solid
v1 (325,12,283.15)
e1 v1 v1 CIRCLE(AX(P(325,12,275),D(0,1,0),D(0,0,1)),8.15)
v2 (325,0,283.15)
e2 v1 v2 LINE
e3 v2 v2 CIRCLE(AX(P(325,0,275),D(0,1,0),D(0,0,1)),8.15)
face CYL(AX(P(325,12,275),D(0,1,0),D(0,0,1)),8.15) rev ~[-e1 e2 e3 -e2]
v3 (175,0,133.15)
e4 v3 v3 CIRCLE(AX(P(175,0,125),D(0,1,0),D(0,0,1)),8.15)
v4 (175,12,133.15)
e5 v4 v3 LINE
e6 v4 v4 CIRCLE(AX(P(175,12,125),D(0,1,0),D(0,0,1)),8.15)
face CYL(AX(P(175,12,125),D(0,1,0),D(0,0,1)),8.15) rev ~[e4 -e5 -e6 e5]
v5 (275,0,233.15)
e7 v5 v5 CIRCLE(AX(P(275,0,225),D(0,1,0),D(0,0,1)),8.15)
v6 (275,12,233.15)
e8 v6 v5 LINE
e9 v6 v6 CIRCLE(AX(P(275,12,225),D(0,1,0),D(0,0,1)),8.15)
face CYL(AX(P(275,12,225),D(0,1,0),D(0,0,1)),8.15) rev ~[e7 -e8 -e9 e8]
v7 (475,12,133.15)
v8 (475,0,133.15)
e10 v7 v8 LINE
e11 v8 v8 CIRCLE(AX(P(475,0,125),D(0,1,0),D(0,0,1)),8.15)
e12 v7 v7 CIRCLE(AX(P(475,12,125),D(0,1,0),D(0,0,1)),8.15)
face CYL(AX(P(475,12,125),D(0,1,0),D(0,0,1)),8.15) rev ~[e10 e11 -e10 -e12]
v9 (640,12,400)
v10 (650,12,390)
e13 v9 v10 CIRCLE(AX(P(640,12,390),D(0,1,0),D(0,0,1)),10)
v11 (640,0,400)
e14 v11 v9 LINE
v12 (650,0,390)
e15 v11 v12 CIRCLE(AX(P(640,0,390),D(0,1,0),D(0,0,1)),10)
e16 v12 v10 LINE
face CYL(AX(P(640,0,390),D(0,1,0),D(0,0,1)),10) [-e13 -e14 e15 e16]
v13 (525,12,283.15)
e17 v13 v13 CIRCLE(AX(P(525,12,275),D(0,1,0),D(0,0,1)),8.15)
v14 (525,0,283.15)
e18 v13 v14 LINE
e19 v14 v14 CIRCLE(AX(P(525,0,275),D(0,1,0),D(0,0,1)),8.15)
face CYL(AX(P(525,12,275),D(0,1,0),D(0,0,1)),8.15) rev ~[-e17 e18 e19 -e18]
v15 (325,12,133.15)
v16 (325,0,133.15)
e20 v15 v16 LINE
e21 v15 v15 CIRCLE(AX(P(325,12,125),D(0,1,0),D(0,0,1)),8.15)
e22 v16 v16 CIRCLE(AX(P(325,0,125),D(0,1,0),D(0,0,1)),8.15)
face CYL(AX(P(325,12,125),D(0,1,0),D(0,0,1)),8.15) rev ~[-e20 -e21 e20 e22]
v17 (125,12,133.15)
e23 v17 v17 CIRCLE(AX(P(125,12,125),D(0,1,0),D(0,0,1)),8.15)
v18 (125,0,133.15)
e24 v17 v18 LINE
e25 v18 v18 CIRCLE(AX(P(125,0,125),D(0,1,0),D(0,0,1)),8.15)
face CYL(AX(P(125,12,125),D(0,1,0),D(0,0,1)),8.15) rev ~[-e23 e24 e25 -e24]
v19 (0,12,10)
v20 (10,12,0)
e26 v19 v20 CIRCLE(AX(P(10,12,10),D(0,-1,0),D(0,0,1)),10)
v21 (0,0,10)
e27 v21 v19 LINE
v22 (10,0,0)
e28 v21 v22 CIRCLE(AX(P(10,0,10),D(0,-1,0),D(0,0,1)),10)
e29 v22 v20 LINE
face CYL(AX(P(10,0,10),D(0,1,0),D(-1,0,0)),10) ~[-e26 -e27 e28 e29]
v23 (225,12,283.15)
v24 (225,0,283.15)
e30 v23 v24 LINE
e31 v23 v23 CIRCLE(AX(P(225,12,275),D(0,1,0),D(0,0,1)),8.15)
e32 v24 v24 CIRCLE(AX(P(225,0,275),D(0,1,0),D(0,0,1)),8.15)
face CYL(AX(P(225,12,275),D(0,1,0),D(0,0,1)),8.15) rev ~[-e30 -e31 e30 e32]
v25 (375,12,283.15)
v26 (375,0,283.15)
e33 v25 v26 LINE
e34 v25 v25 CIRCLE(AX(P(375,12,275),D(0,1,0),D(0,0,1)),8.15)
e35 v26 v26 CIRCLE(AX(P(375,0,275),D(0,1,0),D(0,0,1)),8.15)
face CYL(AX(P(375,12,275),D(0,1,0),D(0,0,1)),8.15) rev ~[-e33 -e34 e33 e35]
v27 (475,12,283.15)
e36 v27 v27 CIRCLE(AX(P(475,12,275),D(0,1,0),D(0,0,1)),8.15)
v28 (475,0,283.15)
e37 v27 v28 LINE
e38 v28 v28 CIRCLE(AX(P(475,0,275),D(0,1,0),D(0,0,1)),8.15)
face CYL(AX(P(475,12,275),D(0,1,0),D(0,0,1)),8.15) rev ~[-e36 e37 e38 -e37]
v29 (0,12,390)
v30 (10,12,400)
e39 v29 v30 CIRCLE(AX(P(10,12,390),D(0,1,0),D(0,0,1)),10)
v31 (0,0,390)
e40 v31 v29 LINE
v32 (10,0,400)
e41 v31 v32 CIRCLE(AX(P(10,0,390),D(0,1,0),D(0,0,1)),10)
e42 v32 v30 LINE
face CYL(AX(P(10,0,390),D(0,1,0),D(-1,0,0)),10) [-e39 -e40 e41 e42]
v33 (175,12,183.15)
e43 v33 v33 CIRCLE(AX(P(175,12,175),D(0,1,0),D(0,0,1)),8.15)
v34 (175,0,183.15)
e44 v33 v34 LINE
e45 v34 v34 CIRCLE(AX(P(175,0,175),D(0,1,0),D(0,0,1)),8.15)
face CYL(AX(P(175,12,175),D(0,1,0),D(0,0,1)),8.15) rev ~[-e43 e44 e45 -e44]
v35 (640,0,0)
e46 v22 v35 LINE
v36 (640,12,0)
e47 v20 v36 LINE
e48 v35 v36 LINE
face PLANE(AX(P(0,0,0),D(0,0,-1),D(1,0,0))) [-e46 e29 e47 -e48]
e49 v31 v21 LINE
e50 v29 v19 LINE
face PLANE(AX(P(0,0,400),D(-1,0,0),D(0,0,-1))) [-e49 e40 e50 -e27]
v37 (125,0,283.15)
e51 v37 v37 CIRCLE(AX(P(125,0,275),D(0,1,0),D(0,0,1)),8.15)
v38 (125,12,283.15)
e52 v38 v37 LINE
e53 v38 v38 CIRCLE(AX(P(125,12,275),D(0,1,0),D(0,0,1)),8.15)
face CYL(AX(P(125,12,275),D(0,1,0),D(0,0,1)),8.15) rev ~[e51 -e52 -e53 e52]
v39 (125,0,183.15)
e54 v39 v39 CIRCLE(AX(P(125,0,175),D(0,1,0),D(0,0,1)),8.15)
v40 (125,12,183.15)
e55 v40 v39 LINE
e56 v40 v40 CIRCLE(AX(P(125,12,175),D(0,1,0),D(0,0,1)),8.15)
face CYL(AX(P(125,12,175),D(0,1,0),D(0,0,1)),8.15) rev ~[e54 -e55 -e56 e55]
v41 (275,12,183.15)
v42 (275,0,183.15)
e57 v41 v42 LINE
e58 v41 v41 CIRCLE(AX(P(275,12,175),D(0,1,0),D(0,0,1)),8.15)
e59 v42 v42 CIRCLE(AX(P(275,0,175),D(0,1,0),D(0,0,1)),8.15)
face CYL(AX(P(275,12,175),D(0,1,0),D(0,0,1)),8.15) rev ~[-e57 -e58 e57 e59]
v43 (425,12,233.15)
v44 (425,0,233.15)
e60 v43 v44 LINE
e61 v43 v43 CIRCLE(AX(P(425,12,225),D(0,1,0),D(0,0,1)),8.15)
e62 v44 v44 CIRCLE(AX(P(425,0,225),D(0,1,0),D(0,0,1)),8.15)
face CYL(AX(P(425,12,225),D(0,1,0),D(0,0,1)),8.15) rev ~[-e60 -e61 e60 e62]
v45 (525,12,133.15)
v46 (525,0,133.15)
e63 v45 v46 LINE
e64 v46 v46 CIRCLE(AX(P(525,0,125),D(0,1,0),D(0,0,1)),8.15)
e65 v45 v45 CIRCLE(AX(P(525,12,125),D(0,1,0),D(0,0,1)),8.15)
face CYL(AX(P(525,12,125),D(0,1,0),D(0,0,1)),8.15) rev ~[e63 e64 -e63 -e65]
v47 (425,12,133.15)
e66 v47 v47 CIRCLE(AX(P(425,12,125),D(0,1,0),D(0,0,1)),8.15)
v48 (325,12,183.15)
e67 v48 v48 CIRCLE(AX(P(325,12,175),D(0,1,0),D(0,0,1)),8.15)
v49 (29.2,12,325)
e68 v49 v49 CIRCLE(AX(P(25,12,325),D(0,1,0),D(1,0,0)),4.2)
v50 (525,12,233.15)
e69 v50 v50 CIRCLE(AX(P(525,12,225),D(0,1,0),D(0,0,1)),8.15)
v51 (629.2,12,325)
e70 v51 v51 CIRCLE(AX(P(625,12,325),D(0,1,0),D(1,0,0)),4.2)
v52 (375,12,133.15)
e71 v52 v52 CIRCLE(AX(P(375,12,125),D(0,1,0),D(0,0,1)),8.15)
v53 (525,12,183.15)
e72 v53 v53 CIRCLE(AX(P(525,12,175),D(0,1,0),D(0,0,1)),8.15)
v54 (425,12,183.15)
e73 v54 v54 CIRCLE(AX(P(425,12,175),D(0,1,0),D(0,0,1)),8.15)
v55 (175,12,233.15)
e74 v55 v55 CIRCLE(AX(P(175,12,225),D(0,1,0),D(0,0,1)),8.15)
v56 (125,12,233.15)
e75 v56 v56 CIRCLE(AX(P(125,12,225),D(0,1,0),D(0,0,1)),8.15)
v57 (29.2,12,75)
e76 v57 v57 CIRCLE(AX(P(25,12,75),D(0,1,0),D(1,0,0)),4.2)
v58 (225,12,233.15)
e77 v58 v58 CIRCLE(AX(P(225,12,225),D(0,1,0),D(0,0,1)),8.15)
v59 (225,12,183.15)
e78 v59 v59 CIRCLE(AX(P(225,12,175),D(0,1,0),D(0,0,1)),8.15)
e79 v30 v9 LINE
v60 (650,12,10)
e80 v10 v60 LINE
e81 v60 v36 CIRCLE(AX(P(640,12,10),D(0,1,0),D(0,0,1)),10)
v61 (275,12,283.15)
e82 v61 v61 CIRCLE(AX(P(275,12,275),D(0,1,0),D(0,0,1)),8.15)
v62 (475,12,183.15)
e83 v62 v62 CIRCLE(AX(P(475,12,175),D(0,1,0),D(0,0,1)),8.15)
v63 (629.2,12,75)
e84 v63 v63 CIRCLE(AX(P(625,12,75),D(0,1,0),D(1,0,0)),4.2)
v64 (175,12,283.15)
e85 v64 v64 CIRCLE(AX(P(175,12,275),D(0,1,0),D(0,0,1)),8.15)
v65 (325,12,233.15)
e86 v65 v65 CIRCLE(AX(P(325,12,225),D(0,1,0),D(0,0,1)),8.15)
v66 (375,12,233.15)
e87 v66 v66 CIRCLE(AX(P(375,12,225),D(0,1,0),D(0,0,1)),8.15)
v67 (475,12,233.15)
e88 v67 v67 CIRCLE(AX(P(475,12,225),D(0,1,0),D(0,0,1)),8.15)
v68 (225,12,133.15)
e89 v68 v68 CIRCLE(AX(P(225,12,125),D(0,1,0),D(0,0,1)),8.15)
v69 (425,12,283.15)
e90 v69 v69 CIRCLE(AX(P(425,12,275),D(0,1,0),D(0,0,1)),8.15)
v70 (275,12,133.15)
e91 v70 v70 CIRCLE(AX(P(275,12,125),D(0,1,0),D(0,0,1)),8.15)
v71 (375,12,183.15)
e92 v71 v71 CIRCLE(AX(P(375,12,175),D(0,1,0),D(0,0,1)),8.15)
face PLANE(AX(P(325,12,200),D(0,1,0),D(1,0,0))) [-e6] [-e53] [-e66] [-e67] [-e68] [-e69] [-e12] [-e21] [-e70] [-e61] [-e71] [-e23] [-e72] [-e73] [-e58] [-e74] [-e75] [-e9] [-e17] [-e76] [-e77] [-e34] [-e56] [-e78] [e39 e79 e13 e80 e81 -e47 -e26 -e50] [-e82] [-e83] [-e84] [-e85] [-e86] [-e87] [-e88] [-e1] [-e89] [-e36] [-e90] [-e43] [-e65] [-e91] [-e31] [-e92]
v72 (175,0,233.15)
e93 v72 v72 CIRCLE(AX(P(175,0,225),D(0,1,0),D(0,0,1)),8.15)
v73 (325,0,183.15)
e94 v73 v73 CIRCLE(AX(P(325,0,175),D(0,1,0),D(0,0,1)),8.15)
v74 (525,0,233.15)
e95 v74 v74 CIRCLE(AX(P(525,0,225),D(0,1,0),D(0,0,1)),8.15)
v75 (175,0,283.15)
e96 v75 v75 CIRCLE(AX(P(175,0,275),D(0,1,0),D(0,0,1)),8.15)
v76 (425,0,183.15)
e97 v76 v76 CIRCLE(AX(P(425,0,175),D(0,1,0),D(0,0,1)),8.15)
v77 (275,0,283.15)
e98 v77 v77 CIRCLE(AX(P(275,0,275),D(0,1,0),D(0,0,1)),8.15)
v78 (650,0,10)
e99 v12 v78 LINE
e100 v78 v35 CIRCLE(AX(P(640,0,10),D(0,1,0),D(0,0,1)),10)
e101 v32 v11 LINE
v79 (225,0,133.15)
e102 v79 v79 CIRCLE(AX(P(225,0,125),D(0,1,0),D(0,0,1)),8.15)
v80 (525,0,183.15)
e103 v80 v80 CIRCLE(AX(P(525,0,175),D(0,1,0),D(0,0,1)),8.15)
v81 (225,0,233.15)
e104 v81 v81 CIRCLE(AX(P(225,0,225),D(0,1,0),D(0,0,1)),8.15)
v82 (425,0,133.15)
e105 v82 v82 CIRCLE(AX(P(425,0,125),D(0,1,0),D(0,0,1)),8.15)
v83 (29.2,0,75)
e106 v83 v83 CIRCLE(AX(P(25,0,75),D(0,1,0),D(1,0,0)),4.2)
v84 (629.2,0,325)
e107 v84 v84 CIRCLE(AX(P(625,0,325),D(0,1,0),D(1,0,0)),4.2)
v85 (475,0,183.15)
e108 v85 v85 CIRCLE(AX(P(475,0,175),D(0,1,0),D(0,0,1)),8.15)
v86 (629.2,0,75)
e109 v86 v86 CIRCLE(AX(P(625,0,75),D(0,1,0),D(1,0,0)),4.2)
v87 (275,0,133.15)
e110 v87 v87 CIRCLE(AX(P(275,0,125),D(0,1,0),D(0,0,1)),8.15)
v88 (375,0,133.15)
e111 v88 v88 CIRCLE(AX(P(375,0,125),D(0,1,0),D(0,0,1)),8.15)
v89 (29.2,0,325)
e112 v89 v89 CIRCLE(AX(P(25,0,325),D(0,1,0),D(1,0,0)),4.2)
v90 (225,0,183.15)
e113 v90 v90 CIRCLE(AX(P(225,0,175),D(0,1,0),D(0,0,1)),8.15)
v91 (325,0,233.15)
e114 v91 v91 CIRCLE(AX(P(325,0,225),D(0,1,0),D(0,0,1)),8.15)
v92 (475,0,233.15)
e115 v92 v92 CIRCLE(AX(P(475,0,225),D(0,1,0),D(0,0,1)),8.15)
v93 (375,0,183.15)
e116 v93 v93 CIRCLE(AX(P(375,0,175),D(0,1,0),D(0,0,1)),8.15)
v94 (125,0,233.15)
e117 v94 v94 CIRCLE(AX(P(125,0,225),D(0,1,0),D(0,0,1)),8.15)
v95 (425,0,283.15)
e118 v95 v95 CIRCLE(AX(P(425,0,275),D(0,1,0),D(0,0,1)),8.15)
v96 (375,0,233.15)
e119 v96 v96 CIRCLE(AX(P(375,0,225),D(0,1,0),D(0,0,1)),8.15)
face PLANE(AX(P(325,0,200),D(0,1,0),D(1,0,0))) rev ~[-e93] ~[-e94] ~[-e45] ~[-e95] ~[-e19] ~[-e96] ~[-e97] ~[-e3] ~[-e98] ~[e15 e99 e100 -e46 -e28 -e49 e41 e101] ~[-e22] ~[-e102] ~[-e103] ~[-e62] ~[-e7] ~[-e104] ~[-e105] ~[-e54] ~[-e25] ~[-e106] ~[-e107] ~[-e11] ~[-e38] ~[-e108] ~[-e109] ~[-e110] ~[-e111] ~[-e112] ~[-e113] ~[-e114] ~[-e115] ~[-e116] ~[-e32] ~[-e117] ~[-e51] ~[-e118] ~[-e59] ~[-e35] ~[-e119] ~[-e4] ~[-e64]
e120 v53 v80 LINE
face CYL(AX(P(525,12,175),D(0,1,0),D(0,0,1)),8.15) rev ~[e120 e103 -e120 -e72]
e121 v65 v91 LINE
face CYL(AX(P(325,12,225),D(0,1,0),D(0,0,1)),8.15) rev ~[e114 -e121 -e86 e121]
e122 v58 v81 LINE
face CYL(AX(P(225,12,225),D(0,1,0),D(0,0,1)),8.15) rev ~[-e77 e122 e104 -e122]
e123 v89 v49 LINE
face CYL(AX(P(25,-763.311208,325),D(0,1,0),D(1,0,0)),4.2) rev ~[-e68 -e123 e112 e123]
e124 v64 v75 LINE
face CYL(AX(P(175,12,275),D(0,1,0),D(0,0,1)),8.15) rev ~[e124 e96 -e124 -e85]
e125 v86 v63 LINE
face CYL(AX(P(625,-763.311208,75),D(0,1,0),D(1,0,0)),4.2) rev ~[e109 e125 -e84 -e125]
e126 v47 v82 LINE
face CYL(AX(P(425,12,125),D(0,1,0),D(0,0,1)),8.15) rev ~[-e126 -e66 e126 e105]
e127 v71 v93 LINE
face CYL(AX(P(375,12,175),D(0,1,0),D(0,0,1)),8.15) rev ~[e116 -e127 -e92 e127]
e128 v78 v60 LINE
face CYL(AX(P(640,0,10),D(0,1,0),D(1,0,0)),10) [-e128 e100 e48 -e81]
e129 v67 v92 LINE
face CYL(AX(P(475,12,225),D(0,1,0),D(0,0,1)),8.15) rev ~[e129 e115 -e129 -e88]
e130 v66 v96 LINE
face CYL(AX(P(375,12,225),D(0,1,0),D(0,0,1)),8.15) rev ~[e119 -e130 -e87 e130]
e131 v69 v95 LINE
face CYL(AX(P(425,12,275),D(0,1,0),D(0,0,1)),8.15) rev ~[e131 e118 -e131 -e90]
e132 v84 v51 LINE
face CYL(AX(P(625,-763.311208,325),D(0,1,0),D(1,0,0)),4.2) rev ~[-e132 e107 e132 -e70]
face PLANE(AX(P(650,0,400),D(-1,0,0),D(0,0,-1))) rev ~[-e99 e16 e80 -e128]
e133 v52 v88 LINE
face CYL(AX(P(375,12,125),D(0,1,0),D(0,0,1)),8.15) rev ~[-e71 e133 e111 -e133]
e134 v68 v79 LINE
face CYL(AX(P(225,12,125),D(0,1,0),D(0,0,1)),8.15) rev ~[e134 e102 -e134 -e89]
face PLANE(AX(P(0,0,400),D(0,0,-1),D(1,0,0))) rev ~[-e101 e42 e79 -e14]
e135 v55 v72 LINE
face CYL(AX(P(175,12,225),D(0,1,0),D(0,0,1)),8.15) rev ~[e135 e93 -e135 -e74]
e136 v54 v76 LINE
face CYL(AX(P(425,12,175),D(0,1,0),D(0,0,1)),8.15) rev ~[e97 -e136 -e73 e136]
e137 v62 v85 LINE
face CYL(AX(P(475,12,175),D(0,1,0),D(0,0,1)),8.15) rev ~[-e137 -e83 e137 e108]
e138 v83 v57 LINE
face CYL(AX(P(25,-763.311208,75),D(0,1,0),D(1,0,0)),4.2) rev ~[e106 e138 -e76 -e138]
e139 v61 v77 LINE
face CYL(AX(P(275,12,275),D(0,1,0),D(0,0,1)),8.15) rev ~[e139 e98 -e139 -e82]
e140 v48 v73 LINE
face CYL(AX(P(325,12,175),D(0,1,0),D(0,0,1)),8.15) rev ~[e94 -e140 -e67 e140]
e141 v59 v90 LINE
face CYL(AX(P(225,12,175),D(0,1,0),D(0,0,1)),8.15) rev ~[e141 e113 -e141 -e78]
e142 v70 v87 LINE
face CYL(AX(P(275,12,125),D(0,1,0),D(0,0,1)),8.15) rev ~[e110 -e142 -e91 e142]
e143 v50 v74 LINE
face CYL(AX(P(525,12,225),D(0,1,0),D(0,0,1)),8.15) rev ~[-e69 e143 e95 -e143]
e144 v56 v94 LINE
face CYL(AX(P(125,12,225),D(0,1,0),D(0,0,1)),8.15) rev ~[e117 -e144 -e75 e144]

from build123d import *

# Parameters (mm, degrees)
SKETCH1_W                  = 650
SKETCH1_H                  = 400
BOSS_EXTRUDE1_DEPTH        = 12
FILLET1_R                  = 10
SKETCH31_R                 = 8.15
CUT_EXTRUDE3_DEPTH         = 764.311207831
LPATTERN1_COUNT            = 9
LPATTERN1_PITCH            = 50
LPATTERN2_COUNT            = 4
LPATTERN2_PITCH            = 50
LPATTERN2_COPY_1_SKETCH_R  = 8.15
LPATTERN2_COPY_1_DEPTH     = 764.311207831
LPATTERN2_COPY_2_SKETCH_R  = 8.15
LPATTERN2_COPY_2_DEPTH     = 764.311207831
LPATTERN2_COPY_3_SKETCH_R  = 8.15
LPATTERN2_COPY_3_DEPTH     = 764.311207831
LPATTERN2_COPY_4_SKETCH_R  = 8.15
LPATTERN2_COPY_4_DEPTH     = 764.311207831
LPATTERN2_COPY_5_SKETCH_R  = 8.15
LPATTERN2_COPY_5_DEPTH     = 764.311207831
LPATTERN2_COPY_6_SKETCH_R  = 8.15
LPATTERN2_COPY_6_DEPTH     = 764.311207831
LPATTERN2_COPY_7_SKETCH_R  = 8.15
LPATTERN2_COPY_7_DEPTH     = 764.311207831
LPATTERN2_COPY_8_SKETCH_R  = 8.15
LPATTERN2_COPY_8_DEPTH     = 764.311207831
LPATTERN2_COPY_9_SKETCH_R  = 8.15
LPATTERN2_COPY_9_DEPTH     = 764.311207831
LPATTERN2_COPY_10_SKETCH_R = 8.15
LPATTERN2_COPY_10_DEPTH    = 764.311207831
LPATTERN2_COPY_11_SKETCH_R = 8.15
LPATTERN2_COPY_11_DEPTH    = 764.311207831
LPATTERN2_COPY_12_SKETCH_R = 8.15
LPATTERN2_COPY_12_DEPTH    = 764.311207831
LPATTERN2_COPY_13_SKETCH_R = 8.15
LPATTERN2_COPY_13_DEPTH    = 764.311207831
LPATTERN2_COPY_14_SKETCH_R = 8.15
LPATTERN2_COPY_14_DEPTH    = 764.311207831
LPATTERN2_COPY_15_SKETCH_R = 8.15
LPATTERN2_COPY_15_DEPTH    = 764.311207831
LPATTERN2_COPY_16_SKETCH_R = 8.15
LPATTERN2_COPY_16_DEPTH    = 764.311207831
LPATTERN2_COPY_17_SKETCH_R = 8.15
LPATTERN2_COPY_17_DEPTH    = 764.311207831
LPATTERN2_COPY_18_SKETCH_R = 8.15
LPATTERN2_COPY_18_DEPTH    = 764.311207831
LPATTERN2_COPY_19_SKETCH_R = 8.15
LPATTERN2_COPY_19_DEPTH    = 764.311207831
LPATTERN2_COPY_20_SKETCH_R = 8.15
LPATTERN2_COPY_20_DEPTH    = 764.311207831
LPATTERN2_COPY_21_SKETCH_R = 8.15
LPATTERN2_COPY_21_DEPTH    = 764.311207831
LPATTERN2_COPY_22_SKETCH_R = 8.15
LPATTERN2_COPY_22_DEPTH    = 764.311207831
LPATTERN2_COPY_23_SKETCH_R = 8.15
LPATTERN2_COPY_23_DEPTH    = 764.311207831
LPATTERN2_COPY_24_SKETCH_R = 8.15
LPATTERN2_COPY_24_DEPTH    = 764.311207831
M8_CLEARANCE_HOLE2_D       = 8.4
LPATTERN3_COUNT            = 2
LPATTERN3_PITCH            = 250
LPATTERN3_COUNT_DIR2       = 2
LPATTERN3_PITCH_DIR2       = 600


with BuildPart() as part:
    # Sketch1 → Boss-Extrude1 (new body)
    with BuildSketch(Plane(origin=(0, 0, 0), x_dir=(1, 0, 0), z_dir=(0, 1, 0))):
        with Locations((325, -200)):
            Rectangle(SKETCH1_W, SKETCH1_H)
    extrude(amount=BOSS_EXTRUDE1_DEPTH)

    # Fillet1
    fillet1_edges = [part.edges().sort_by_distance(p)[0] for p in [
        (0, 6, 0),
        (650, 6, 0),
        (650, 6, 400),
        (0, 6, 400),
    ]]
    fillet(fillet1_edges, radius=FILLET1_R)

    # Sketch31 → Cut-Extrude3 (cut, through all)
    with BuildSketch(Plane(origin=(0, 12, 0), x_dir=(1, 0, 0), z_dir=(0, 1, 0))):
        with Locations(Location((125, -275, 0), (0, 0, 270))):
            Circle(SKETCH31_R)
    cut_extrude3 = extrude(amount=-CUT_EXTRUDE3_DEPTH, mode=Mode.SUBTRACT)

    # LPattern1: Cut-Extrude3 ×9
    with Locations(*[(i * LPATTERN1_PITCH, 0, 0) for i in range(1, LPATTERN1_COUNT)]):
        add(cut_extrude3, mode=Mode.SUBTRACT)

    # LPattern2: Cut-Extrude3 ×4
    with Locations(*[(0, 0, -i * LPATTERN2_PITCH) for i in range(1, LPATTERN2_COUNT)]):
        add(cut_extrude3, mode=Mode.SUBTRACT)

    # LPattern2 copy 1 sketch → LPattern2 copy 1 (cut, through all)
    with BuildSketch(Plane(origin=(50, 12, -50), x_dir=(1, 0, 0), z_dir=(0, 1, 0))):
        with Locations(Location((125, -275, 0), (0, 0, 270))):
            Circle(LPATTERN2_COPY_1_SKETCH_R)
    extrude(amount=-LPATTERN2_COPY_1_DEPTH, mode=Mode.SUBTRACT)

    # LPattern2 copy 2 sketch → LPattern2 copy 2 (cut, through all)
    with BuildSketch(Plane(origin=(50, 12, -100), x_dir=(1, 0, 0), z_dir=(0, 1, 0))):
        with Locations(Location((125, -275, 0), (0, 0, 270))):
            Circle(LPATTERN2_COPY_2_SKETCH_R)
    extrude(amount=-LPATTERN2_COPY_2_DEPTH, mode=Mode.SUBTRACT)

    # LPattern2 copy 3 sketch → LPattern2 copy 3 (cut, through all)
    with BuildSketch(Plane(origin=(50, 12, -150), x_dir=(1, 0, 0), z_dir=(0, 1, 0))):
        with Locations(Location((125, -275, 0), (0, 0, 270))):
            Circle(LPATTERN2_COPY_3_SKETCH_R)
    extrude(amount=-LPATTERN2_COPY_3_DEPTH, mode=Mode.SUBTRACT)

    # LPattern2 copy 4 sketch → LPattern2 copy 4 (cut, through all)
    with BuildSketch(Plane(origin=(100, 12, -50), x_dir=(1, 0, 0), z_dir=(0, 1, 0))):
        with Locations(Location((125, -275, 0), (0, 0, 270))):
            Circle(LPATTERN2_COPY_4_SKETCH_R)
    extrude(amount=-LPATTERN2_COPY_4_DEPTH, mode=Mode.SUBTRACT)

    # LPattern2 copy 5 sketch → LPattern2 copy 5 (cut, through all)
    with BuildSketch(Plane(origin=(100, 12, -100), x_dir=(1, 0, 0), z_dir=(0, 1, 0))):
        with Locations(Location((125, -275, 0), (0, 0, 270))):
            Circle(LPATTERN2_COPY_5_SKETCH_R)
    extrude(amount=-LPATTERN2_COPY_5_DEPTH, mode=Mode.SUBTRACT)

    # LPattern2 copy 6 sketch → LPattern2 copy 6 (cut, through all)
    with BuildSketch(Plane(origin=(100, 12, -150), x_dir=(1, 0, 0), z_dir=(0, 1, 0))):
        with Locations(Location((125, -275, 0), (0, 0, 270))):
            Circle(LPATTERN2_COPY_6_SKETCH_R)
    extrude(amount=-LPATTERN2_COPY_6_DEPTH, mode=Mode.SUBTRACT)

    # LPattern2 copy 7 sketch → LPattern2 copy 7 (cut, through all)
    with BuildSketch(Plane(origin=(150, 12, -50), x_dir=(1, 0, 0), z_dir=(0, 1, 0))):
        with Locations(Location((125, -275, 0), (0, 0, 270))):
            Circle(LPATTERN2_COPY_7_SKETCH_R)
    extrude(amount=-LPATTERN2_COPY_7_DEPTH, mode=Mode.SUBTRACT)

    # LPattern2 copy 8 sketch → LPattern2 copy 8 (cut, through all)
    with BuildSketch(Plane(origin=(150, 12, -100), x_dir=(1, 0, 0), z_dir=(0, 1, 0))):
        with Locations(Location((125, -275, 0), (0, 0, 270))):
            Circle(LPATTERN2_COPY_8_SKETCH_R)
    extrude(amount=-LPATTERN2_COPY_8_DEPTH, mode=Mode.SUBTRACT)

    # LPattern2 copy 9 sketch → LPattern2 copy 9 (cut, through all)
    with BuildSketch(Plane(origin=(150, 12, -150), x_dir=(1, 0, 0), z_dir=(0, 1, 0))):
        with Locations(Location((125, -275, 0), (0, 0, 270))):
            Circle(LPATTERN2_COPY_9_SKETCH_R)
    extrude(amount=-LPATTERN2_COPY_9_DEPTH, mode=Mode.SUBTRACT)

    # LPattern2 copy 10 sketch → LPattern2 copy 10 (cut, through all)
    with BuildSketch(Plane(origin=(200, 12, -50), x_dir=(1, 0, 0), z_dir=(0, 1, 0))):
        with Locations(Location((125, -275, 0), (0, 0, 270))):
            Circle(LPATTERN2_COPY_10_SKETCH_R)
    extrude(amount=-LPATTERN2_COPY_10_DEPTH, mode=Mode.SUBTRACT)

    # LPattern2 copy 11 sketch → LPattern2 copy 11 (cut, through all)
    with BuildSketch(Plane(origin=(200, 12, -100), x_dir=(1, 0, 0), z_dir=(0, 1, 0))):
        with Locations(Location((125, -275, 0), (0, 0, 270))):
            Circle(LPATTERN2_COPY_11_SKETCH_R)
    extrude(amount=-LPATTERN2_COPY_11_DEPTH, mode=Mode.SUBTRACT)

    # LPattern2 copy 12 sketch → LPattern2 copy 12 (cut, through all)
    with BuildSketch(Plane(origin=(200, 12, -150), x_dir=(1, 0, 0), z_dir=(0, 1, 0))):
        with Locations(Location((125, -275, 0), (0, 0, 270))):
            Circle(LPATTERN2_COPY_12_SKETCH_R)
    extrude(amount=-LPATTERN2_COPY_12_DEPTH, mode=Mode.SUBTRACT)

    # LPattern2 copy 13 sketch → LPattern2 copy 13 (cut, through all)
    with BuildSketch(Plane(origin=(250, 12, -50), x_dir=(1, 0, 0), z_dir=(0, 1, 0))):
        with Locations(Location((125, -275, 0), (0, 0, 270))):
            Circle(LPATTERN2_COPY_13_SKETCH_R)
    extrude(amount=-LPATTERN2_COPY_13_DEPTH, mode=Mode.SUBTRACT)

    # LPattern2 copy 14 sketch → LPattern2 copy 14 (cut, through all)
    with BuildSketch(Plane(origin=(250, 12, -100), x_dir=(1, 0, 0), z_dir=(0, 1, 0))):
        with Locations(Location((125, -275, 0), (0, 0, 270))):
            Circle(LPATTERN2_COPY_14_SKETCH_R)
    extrude(amount=-LPATTERN2_COPY_14_DEPTH, mode=Mode.SUBTRACT)

    # LPattern2 copy 15 sketch → LPattern2 copy 15 (cut, through all)
    with BuildSketch(Plane(origin=(250, 12, -150), x_dir=(1, 0, 0), z_dir=(0, 1, 0))):
        with Locations(Location((125, -275, 0), (0, 0, 270))):
            Circle(LPATTERN2_COPY_15_SKETCH_R)
    extrude(amount=-LPATTERN2_COPY_15_DEPTH, mode=Mode.SUBTRACT)

    # LPattern2 copy 16 sketch → LPattern2 copy 16 (cut, through all)
    with BuildSketch(Plane(origin=(300, 12, -50), x_dir=(1, 0, 0), z_dir=(0, 1, 0))):
        with Locations(Location((125, -275, 0), (0, 0, 270))):
            Circle(LPATTERN2_COPY_16_SKETCH_R)
    extrude(amount=-LPATTERN2_COPY_16_DEPTH, mode=Mode.SUBTRACT)

    # LPattern2 copy 17 sketch → LPattern2 copy 17 (cut, through all)
    with BuildSketch(Plane(origin=(300, 12, -100), x_dir=(1, 0, 0), z_dir=(0, 1, 0))):
        with Locations(Location((125, -275, 0), (0, 0, 270))):
            Circle(LPATTERN2_COPY_17_SKETCH_R)
    extrude(amount=-LPATTERN2_COPY_17_DEPTH, mode=Mode.SUBTRACT)

    # LPattern2 copy 18 sketch → LPattern2 copy 18 (cut, through all)
    with BuildSketch(Plane(origin=(300, 12, -150), x_dir=(1, 0, 0), z_dir=(0, 1, 0))):
        with Locations(Location((125, -275, 0), (0, 0, 270))):
            Circle(LPATTERN2_COPY_18_SKETCH_R)
    extrude(amount=-LPATTERN2_COPY_18_DEPTH, mode=Mode.SUBTRACT)

    # LPattern2 copy 19 sketch → LPattern2 copy 19 (cut, through all)
    with BuildSketch(Plane(origin=(350, 12, -50), x_dir=(1, 0, 0), z_dir=(0, 1, 0))):
        with Locations(Location((125, -275, 0), (0, 0, 270))):
            Circle(LPATTERN2_COPY_19_SKETCH_R)
    extrude(amount=-LPATTERN2_COPY_19_DEPTH, mode=Mode.SUBTRACT)

    # LPattern2 copy 20 sketch → LPattern2 copy 20 (cut, through all)
    with BuildSketch(Plane(origin=(350, 12, -100), x_dir=(1, 0, 0), z_dir=(0, 1, 0))):
        with Locations(Location((125, -275, 0), (0, 0, 270))):
            Circle(LPATTERN2_COPY_20_SKETCH_R)
    extrude(amount=-LPATTERN2_COPY_20_DEPTH, mode=Mode.SUBTRACT)

    # LPattern2 copy 21 sketch → LPattern2 copy 21 (cut, through all)
    with BuildSketch(Plane(origin=(350, 12, -150), x_dir=(1, 0, 0), z_dir=(0, 1, 0))):
        with Locations(Location((125, -275, 0), (0, 0, 270))):
            Circle(LPATTERN2_COPY_21_SKETCH_R)
    extrude(amount=-LPATTERN2_COPY_21_DEPTH, mode=Mode.SUBTRACT)

    # LPattern2 copy 22 sketch → LPattern2 copy 22 (cut, through all)
    with BuildSketch(Plane(origin=(400, 12, -50), x_dir=(1, 0, 0), z_dir=(0, 1, 0))):
        with Locations(Location((125, -275, 0), (0, 0, 270))):
            Circle(LPATTERN2_COPY_22_SKETCH_R)
    extrude(amount=-LPATTERN2_COPY_22_DEPTH, mode=Mode.SUBTRACT)

    # LPattern2 copy 23 sketch → LPattern2 copy 23 (cut, through all)
    with BuildSketch(Plane(origin=(400, 12, -100), x_dir=(1, 0, 0), z_dir=(0, 1, 0))):
        with Locations(Location((125, -275, 0), (0, 0, 270))):
            Circle(LPATTERN2_COPY_23_SKETCH_R)
    extrude(amount=-LPATTERN2_COPY_23_DEPTH, mode=Mode.SUBTRACT)

    # LPattern2 copy 24 sketch → LPattern2 copy 24 (cut, through all)
    with BuildSketch(Plane(origin=(400, 12, -150), x_dir=(1, 0, 0), z_dir=(0, 1, 0))):
        with Locations(Location((125, -275, 0), (0, 0, 270))):
            Circle(LPATTERN2_COPY_24_SKETCH_R)
    extrude(amount=-LPATTERN2_COPY_24_DEPTH, mode=Mode.SUBTRACT)

    # M8 Clearance Hole2 (through all)
    with Locations(Plane(origin=(0, 0, 0), x_dir=(-1, 0, 0), z_dir=(0, -1, 0))):
        with Locations((-25, -75)):
            m8_clearance_hole2 = Hole(M8_CLEARANCE_HOLE2_D / 2)

    # LPattern3: M8 Clearance Hole2 2 × 2
    with Locations(*[(j * LPATTERN3_PITCH_DIR2, 0, i * LPATTERN3_PITCH) for i in range(LPATTERN3_COUNT) for j in range(LPATTERN3_COUNT_DIR2) if (i, j) != (0, 0)]):
        add(m8_clearance_hole2, mode=Mode.SUBTRACT)


solid = part.part
